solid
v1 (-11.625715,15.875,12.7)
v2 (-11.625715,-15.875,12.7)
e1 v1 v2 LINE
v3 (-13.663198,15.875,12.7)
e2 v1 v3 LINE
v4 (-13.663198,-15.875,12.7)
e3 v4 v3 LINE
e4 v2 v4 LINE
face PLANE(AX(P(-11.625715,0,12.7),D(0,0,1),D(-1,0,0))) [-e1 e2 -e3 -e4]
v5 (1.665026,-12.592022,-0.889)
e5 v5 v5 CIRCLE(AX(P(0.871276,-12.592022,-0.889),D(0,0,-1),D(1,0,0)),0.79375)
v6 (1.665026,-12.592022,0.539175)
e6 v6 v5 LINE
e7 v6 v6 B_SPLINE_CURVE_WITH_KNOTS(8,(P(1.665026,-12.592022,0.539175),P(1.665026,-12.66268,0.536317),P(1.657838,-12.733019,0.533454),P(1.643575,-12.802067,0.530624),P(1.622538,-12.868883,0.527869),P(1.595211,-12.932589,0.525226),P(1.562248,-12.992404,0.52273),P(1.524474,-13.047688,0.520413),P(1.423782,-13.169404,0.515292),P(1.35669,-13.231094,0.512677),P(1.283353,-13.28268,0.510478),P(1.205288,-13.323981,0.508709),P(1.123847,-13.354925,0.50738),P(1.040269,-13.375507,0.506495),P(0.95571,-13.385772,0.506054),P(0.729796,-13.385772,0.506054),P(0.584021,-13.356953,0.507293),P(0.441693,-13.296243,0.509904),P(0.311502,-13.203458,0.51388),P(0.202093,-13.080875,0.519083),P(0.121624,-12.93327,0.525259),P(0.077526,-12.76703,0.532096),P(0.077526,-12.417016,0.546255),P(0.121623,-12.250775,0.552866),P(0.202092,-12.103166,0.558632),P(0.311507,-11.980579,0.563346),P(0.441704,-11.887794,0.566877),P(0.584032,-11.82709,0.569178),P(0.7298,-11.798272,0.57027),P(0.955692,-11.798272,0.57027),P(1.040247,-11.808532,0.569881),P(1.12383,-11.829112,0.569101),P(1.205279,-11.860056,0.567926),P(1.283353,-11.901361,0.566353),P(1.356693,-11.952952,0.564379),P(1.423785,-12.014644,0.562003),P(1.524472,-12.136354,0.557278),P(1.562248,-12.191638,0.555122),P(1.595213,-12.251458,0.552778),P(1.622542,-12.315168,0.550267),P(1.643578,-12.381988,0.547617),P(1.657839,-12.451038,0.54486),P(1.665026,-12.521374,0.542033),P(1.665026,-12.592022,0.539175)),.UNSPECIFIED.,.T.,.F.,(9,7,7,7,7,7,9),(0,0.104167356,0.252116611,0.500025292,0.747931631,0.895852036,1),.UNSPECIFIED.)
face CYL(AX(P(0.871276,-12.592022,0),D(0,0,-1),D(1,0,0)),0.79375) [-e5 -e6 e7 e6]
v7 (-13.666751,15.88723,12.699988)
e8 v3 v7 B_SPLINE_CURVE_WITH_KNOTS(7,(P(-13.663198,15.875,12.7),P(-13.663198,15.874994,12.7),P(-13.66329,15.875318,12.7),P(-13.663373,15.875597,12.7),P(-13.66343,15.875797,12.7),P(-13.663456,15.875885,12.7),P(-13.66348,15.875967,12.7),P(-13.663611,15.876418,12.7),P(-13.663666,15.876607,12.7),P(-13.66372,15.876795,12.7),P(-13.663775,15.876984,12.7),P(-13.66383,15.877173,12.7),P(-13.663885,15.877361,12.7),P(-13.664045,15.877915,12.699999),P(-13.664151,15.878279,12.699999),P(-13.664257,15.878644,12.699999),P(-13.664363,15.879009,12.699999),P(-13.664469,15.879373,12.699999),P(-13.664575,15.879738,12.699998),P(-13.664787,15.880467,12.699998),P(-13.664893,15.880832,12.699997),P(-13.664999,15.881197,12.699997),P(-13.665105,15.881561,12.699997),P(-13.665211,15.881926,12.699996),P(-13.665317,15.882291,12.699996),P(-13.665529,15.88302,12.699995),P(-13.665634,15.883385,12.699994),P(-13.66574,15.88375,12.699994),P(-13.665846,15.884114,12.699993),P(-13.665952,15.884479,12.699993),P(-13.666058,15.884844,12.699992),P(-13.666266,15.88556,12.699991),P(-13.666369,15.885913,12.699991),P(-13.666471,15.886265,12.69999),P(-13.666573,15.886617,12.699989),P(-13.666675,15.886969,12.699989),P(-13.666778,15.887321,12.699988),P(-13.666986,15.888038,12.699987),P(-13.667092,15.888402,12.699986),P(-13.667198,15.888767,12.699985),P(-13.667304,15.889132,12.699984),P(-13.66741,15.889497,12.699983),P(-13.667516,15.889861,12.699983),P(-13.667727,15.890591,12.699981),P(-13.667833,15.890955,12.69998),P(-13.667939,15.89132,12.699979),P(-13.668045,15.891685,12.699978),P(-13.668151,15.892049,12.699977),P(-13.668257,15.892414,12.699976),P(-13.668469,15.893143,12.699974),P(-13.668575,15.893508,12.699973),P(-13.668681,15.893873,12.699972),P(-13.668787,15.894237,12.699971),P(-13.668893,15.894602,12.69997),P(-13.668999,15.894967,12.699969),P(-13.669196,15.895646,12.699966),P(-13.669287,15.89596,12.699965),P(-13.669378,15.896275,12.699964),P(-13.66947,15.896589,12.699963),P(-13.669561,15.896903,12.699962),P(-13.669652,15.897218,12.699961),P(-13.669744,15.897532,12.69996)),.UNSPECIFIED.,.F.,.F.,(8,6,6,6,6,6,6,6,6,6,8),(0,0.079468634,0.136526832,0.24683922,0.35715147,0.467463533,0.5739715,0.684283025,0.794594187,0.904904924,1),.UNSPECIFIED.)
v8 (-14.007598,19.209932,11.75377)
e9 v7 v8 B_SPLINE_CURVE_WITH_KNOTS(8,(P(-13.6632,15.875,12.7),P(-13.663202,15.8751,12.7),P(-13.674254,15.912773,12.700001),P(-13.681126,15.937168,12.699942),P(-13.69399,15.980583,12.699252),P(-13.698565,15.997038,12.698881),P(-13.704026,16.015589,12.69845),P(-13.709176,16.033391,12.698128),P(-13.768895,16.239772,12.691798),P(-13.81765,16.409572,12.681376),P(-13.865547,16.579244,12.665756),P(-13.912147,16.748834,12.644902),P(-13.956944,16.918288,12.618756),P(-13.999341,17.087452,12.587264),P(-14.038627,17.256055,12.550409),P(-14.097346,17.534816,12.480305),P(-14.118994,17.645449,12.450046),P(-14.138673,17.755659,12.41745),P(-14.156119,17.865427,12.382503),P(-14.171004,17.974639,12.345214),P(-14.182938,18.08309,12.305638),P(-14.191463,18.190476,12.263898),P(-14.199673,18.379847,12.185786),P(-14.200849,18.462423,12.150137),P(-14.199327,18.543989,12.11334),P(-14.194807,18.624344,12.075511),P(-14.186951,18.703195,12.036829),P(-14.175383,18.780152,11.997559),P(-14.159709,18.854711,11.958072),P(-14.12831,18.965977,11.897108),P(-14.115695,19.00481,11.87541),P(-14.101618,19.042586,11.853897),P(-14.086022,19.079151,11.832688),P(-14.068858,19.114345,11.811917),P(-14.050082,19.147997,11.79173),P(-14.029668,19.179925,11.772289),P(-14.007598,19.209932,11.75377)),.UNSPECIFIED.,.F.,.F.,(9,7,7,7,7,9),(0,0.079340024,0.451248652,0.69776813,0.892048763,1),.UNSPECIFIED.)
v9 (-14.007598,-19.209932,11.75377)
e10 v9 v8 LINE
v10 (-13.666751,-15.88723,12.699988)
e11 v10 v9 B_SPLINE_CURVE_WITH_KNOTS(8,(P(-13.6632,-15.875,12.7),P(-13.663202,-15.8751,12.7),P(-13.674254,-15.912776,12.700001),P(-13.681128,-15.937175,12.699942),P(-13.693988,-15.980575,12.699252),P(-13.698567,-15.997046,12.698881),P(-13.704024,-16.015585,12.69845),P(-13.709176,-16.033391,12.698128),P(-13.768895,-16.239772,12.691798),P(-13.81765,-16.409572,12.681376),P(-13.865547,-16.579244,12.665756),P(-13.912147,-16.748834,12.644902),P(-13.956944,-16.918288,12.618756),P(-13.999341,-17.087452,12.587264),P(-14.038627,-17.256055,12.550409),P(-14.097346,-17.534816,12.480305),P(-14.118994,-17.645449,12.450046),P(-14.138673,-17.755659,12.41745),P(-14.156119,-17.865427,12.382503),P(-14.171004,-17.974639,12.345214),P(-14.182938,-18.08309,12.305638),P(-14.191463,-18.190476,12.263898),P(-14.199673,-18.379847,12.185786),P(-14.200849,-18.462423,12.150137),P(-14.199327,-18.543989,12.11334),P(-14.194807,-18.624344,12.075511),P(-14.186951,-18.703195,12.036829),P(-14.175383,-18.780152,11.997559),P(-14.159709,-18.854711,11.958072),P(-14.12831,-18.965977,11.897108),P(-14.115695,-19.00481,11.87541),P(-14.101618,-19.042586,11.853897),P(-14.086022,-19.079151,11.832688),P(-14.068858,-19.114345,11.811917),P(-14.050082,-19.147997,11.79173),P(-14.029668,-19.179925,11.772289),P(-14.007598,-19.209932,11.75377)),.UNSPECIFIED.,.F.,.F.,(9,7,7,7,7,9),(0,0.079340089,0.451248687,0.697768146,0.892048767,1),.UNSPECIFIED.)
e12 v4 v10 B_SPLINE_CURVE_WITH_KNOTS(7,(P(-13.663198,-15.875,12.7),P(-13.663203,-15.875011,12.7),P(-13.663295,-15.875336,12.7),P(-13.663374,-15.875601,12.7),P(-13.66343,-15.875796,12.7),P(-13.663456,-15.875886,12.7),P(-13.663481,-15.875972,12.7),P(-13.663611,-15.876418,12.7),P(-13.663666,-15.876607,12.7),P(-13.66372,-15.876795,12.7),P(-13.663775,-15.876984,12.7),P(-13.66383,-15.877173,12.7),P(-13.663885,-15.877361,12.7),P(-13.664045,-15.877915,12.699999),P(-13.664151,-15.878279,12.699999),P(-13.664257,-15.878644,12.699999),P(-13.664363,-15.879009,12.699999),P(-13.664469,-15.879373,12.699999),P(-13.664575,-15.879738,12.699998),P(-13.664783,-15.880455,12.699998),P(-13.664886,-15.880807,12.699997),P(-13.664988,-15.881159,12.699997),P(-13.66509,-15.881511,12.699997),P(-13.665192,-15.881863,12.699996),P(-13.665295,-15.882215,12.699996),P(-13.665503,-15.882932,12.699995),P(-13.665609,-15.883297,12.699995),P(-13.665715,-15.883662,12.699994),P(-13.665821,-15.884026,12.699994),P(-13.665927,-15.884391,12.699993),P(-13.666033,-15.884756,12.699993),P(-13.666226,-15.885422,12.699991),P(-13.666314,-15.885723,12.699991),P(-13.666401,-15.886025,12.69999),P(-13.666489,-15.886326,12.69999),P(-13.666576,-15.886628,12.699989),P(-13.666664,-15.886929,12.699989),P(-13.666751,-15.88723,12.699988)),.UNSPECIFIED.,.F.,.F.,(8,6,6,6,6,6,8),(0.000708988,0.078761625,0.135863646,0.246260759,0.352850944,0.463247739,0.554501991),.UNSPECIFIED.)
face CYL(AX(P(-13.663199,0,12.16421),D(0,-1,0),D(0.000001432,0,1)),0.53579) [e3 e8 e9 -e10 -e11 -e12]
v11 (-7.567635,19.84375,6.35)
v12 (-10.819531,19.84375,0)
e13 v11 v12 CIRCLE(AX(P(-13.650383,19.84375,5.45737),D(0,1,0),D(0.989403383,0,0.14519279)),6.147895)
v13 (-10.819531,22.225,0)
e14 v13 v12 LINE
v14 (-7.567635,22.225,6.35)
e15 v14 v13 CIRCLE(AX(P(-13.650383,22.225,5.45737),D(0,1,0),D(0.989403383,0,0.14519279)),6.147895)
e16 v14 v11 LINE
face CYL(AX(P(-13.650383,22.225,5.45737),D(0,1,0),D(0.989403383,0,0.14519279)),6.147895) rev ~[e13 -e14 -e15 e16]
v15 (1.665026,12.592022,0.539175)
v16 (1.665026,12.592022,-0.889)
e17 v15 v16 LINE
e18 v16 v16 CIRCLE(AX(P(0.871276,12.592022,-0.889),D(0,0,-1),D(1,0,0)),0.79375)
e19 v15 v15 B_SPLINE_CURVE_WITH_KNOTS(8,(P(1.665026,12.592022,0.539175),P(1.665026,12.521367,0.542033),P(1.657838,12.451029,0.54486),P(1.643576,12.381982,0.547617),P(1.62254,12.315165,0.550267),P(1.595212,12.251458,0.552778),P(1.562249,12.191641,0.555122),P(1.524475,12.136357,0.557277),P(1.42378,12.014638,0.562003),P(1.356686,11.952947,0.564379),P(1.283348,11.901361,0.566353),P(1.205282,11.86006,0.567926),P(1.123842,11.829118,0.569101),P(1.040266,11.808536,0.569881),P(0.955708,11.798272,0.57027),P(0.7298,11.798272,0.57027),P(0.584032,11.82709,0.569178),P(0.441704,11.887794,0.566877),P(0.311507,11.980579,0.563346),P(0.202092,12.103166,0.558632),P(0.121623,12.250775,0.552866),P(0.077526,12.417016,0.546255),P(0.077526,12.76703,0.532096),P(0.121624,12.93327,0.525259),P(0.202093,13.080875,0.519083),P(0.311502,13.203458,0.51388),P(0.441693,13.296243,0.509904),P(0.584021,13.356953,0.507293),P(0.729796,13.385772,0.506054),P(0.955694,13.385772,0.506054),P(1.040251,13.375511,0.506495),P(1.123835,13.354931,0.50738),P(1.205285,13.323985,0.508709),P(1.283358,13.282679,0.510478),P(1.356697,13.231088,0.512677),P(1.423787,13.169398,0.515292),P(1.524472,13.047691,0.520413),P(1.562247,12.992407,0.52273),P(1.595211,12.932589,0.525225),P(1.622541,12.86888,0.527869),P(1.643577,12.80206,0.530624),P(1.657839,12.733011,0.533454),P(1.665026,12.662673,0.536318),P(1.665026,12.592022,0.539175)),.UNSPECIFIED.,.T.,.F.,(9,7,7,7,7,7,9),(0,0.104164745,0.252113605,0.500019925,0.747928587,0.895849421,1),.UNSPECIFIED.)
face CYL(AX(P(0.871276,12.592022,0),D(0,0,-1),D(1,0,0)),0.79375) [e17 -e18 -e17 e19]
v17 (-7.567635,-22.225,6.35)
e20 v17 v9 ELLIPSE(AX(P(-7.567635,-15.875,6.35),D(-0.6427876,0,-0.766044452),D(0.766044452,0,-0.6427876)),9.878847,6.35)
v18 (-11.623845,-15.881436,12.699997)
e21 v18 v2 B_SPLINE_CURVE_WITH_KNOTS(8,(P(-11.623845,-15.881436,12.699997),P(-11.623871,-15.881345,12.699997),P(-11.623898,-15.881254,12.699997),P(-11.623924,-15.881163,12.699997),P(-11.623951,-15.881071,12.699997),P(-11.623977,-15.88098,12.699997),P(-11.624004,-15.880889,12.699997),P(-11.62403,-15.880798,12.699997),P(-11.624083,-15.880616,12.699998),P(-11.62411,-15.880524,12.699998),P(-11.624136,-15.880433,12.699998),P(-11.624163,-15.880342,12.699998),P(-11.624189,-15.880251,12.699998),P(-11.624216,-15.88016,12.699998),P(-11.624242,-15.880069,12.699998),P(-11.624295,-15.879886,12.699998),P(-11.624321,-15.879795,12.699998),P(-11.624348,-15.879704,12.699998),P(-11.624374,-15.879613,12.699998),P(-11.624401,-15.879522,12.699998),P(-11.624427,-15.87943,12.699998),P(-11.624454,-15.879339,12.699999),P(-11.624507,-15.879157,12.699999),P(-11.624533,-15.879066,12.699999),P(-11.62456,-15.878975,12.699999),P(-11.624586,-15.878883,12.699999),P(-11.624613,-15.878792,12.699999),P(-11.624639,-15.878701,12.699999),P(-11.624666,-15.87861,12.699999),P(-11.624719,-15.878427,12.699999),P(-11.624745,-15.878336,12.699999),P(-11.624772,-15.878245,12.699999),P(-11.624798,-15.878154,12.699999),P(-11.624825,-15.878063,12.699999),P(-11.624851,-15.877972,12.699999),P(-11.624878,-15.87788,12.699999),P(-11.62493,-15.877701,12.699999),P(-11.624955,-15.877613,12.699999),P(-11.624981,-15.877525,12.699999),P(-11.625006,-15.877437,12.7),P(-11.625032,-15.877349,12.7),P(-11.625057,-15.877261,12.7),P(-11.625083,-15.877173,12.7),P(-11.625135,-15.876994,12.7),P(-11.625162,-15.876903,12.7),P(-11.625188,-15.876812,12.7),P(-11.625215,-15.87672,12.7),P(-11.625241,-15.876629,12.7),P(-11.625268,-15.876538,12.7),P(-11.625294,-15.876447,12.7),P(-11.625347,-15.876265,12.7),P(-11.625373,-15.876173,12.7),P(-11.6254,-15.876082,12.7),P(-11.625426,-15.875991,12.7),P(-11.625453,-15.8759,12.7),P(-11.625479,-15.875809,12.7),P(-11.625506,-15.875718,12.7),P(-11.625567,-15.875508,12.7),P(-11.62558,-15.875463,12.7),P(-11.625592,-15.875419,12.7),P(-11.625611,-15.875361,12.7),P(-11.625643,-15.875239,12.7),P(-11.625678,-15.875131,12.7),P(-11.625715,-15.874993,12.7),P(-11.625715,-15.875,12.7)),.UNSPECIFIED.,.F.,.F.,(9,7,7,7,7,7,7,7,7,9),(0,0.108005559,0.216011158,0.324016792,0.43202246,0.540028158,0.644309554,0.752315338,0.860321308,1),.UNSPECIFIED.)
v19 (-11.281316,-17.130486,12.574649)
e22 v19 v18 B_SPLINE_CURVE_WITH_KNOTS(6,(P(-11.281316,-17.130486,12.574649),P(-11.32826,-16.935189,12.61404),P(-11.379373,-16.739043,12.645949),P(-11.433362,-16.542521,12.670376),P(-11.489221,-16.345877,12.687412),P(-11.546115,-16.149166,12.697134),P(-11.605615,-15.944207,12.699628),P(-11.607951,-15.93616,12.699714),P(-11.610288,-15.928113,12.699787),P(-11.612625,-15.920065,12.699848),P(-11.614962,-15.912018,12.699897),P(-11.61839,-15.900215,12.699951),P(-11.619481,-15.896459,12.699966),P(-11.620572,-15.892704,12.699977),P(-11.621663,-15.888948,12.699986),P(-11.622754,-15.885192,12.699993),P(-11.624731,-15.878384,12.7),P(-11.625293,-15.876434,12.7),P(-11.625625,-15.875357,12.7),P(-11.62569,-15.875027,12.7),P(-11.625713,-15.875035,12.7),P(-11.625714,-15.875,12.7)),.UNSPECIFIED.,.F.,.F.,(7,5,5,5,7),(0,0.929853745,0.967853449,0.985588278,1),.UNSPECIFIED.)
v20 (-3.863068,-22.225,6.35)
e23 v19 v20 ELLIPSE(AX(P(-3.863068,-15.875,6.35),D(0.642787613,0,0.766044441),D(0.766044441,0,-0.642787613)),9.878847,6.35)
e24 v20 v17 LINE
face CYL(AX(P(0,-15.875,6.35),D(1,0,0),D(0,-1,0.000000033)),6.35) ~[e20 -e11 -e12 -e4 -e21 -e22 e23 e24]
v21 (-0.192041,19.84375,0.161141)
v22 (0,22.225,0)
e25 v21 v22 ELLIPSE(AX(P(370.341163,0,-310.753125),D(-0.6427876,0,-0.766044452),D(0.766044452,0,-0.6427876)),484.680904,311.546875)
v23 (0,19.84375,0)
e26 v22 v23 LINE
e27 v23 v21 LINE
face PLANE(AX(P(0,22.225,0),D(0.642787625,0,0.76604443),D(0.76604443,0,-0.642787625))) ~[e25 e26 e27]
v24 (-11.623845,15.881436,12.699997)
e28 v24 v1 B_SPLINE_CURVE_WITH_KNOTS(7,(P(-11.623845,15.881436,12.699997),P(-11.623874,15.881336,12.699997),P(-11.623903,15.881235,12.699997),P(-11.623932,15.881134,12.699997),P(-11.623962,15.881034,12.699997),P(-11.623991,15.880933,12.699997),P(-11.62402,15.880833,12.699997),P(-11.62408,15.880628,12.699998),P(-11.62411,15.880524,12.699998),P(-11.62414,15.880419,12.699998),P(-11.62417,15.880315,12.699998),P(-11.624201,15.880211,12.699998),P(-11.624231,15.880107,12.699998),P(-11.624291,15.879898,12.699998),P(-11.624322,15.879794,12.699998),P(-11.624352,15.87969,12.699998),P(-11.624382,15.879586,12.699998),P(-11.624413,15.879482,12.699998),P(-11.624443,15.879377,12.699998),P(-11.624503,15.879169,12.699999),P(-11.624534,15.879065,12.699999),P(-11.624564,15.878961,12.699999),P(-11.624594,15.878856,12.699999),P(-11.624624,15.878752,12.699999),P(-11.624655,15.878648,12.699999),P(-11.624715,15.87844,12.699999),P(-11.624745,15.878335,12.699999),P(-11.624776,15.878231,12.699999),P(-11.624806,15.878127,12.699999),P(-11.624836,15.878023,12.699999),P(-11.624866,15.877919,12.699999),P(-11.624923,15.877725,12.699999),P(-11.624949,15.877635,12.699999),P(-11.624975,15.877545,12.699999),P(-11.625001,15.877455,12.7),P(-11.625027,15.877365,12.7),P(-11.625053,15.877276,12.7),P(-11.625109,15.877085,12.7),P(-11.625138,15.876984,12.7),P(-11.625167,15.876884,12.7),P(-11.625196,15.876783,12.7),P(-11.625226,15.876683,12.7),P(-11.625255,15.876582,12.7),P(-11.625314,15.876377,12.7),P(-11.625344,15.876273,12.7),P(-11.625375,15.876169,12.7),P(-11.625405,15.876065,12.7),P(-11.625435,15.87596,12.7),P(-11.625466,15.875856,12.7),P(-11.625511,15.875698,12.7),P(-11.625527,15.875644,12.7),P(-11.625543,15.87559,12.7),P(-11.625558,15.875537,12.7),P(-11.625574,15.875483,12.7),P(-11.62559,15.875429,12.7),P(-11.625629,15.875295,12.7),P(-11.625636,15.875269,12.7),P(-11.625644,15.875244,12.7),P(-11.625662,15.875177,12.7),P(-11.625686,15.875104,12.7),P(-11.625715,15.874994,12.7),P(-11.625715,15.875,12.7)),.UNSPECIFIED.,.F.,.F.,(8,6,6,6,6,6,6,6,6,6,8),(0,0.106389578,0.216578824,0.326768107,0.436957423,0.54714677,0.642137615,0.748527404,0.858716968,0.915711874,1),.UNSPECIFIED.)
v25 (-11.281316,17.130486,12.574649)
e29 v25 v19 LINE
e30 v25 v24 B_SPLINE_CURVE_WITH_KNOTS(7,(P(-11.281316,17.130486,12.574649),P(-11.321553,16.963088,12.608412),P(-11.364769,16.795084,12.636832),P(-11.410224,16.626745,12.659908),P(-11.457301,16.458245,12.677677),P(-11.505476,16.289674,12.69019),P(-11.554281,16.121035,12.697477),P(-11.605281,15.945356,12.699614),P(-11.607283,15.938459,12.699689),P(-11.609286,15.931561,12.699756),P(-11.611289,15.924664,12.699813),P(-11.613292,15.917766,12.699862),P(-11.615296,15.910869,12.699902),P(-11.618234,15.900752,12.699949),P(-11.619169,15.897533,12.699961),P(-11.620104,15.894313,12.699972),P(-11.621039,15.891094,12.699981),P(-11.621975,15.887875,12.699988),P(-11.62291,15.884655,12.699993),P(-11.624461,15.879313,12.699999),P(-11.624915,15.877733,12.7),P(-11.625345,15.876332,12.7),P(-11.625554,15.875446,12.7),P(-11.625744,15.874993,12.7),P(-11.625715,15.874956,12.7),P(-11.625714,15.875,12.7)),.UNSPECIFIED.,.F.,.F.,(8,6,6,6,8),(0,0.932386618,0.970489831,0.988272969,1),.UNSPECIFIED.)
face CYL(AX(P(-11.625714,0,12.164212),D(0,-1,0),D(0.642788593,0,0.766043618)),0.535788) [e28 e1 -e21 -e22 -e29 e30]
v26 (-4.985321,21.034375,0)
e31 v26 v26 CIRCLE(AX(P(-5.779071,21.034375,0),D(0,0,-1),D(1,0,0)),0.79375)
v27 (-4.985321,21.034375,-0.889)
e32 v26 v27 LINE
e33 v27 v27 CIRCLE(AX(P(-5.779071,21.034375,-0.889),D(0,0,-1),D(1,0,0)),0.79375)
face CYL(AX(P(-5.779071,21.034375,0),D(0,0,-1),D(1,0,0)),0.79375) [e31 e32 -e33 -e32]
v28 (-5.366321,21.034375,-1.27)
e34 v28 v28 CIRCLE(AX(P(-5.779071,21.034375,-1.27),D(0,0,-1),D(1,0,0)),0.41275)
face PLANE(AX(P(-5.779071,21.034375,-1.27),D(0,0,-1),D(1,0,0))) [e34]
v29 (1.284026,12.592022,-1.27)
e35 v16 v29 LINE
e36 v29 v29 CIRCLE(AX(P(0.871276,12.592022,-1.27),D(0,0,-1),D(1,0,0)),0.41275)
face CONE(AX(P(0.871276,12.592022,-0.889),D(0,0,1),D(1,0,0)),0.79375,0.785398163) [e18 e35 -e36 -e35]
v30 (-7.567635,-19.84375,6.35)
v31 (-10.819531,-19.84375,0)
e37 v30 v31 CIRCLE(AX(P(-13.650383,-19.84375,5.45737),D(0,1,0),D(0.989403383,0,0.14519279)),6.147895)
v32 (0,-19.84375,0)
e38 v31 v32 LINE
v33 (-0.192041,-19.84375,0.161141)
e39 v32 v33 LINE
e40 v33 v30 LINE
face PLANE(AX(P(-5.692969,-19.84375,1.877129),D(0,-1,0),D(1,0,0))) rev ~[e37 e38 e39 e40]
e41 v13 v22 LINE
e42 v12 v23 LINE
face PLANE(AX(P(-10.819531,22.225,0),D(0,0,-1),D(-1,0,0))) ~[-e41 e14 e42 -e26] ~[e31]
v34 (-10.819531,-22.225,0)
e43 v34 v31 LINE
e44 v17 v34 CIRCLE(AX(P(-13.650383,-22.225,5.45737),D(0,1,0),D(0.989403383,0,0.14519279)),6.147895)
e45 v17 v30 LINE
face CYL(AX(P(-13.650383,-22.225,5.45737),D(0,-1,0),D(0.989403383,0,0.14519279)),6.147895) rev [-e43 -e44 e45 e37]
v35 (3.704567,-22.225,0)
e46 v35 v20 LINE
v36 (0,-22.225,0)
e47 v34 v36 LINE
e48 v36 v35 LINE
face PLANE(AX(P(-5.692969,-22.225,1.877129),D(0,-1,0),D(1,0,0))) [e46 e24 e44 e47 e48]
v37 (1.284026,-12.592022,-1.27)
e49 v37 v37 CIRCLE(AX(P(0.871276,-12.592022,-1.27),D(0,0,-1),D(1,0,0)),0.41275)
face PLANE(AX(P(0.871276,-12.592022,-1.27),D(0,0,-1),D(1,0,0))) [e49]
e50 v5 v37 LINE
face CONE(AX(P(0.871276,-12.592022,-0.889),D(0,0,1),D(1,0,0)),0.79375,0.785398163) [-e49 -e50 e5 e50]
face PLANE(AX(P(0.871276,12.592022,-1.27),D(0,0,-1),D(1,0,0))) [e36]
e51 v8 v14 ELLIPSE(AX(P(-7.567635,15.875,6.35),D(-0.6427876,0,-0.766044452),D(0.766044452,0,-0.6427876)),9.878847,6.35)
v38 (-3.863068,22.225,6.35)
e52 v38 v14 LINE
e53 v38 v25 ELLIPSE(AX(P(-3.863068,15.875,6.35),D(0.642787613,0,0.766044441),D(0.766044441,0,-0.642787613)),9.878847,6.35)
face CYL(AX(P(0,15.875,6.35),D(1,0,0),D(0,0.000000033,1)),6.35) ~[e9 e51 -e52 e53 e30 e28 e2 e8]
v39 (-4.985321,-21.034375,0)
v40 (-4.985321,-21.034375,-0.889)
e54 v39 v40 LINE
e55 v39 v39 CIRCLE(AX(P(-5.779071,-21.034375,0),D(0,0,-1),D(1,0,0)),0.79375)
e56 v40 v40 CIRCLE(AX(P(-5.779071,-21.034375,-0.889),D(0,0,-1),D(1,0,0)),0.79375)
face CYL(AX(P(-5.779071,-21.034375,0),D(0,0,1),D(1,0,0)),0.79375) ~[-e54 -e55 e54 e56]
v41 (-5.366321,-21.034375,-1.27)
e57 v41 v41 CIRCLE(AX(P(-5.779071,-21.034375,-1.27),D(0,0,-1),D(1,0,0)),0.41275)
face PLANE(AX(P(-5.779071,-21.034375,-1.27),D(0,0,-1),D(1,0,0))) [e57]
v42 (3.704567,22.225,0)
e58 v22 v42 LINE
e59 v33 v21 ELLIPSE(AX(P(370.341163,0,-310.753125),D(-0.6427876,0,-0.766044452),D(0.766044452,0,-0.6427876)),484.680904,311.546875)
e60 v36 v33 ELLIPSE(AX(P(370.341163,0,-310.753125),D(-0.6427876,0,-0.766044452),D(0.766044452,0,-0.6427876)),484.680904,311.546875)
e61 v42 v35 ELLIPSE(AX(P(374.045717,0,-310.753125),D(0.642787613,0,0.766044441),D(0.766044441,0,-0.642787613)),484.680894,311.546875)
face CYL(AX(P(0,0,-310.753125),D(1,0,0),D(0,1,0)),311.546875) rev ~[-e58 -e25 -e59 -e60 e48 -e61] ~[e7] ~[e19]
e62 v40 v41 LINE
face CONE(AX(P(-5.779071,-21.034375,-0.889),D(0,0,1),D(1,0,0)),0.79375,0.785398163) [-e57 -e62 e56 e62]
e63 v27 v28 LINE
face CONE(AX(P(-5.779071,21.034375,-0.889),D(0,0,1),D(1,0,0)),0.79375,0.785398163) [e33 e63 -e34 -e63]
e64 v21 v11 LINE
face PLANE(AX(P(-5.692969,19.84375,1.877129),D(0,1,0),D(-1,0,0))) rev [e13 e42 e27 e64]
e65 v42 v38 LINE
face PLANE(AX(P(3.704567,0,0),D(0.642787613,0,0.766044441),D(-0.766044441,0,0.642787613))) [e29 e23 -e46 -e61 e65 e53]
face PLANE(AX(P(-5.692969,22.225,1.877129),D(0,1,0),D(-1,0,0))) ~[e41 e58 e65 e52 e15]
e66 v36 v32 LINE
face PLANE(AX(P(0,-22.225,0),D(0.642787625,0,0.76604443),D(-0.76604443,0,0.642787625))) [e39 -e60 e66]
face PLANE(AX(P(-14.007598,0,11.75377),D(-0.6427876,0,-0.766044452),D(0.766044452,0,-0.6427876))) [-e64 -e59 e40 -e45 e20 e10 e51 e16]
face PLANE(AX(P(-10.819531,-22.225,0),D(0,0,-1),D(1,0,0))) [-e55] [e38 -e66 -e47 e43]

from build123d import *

# Parameters (mm, degrees)
F1_DEPTH  = 22.225
F3_DEPTH  = 14.199989
F4_R      = 311.546875
F5_DEPTH  = 38.1
F7_DEPTH  = 2.38125
F9_R      = 0.79375
F10_DEPTH = 1.27
F11_SIZE  = 0.381


with BuildPart() as f1:
    # F0 (on Front) → F1 (new body, symmetric)
    with BuildSketch(Plane.XZ):
        with BuildLine():
            Line((0, 0), (3.704567, 0))
            Line((3.704567, 0), (-11.281316, 12.574649))
            ThreePointArc((-11.281316, 12.574649), (-11.442464, 12.667688), (-11.625715, 12.7))
            Line((-11.625715, 12.7), (-13.663198, 12.7))
            ThreePointArc((-13.663198, 12.7), (-14.166677, 12.347461), (-14.007598, 11.75377))
            Line((-14.007598, 11.75377), (0, 0))
        make_face()
    extrude(amount=F1_DEPTH, both=True)

    # F2 (on Right) → F3 (cut, through all)
    with BuildSketch(Plane.YZ):
        with BuildLine():
            ThreePointArc((-22.225, 6.35), (-20.365128, 10.840128), (-15.875, 12.7))
            Line((-15.875, 12.7), (-25.184002, 17.701721))
            Line((-25.184002, 17.701721), (-26.87986, 8.657143))
            Line((-26.87986, 8.657143), (-22.225, 6.35))
        make_face()
        with BuildLine():
            Line((22.225, 6.35), (26.87986, 8.657143))
            Line((26.87986, 8.657143), (25.184002, 17.701721))
            Line((25.184002, 17.701721), (15.875, 12.7))
            ThreePointArc((15.875, 12.7), (20.365128, 10.840128), (22.225, 6.35))
        make_face()
    extrude(amount=-F3_DEPTH, mode=Mode.SUBTRACT)

    # F4 (on Right) → F5 (cut, symmetric)
    with BuildSketch(Plane.YZ):
        with Locations((0, -310.753125)):
            Circle(F4_R)
    extrude(amount=F5_DEPTH, both=True, mode=Mode.SUBTRACT)

    # F6 (on face) → F7 (join)
    with BuildSketch(Plane.XZ.offset(22.225)):
        with BuildLine():
            Line((-10.819531, 0), (0, 0))
            Line((0, 0), (-7.567635, 6.35))
            ThreePointArc((-7.567635, 6.35), (-8.1783, 2.655064), (-10.819531, 0))
        make_face()
    extrude(amount=-F7_DEPTH)



with BuildPart() as f8_1:
    # F8: instance of F1
    add(f1.part.mirror(Plane.XZ))


with BuildPart() as f1_1:
    add(f1.part)

    add(f8_1.part)  # F10 merges F8_1
    # F9 (on face) → F10 (join, symmetric)
    with BuildSketch(Plane(origin=(0, 0, 0), x_dir=(1, 0, 0), z_dir=(0, 0, -1))):
        with Locations((-5.779071, 21.034375)):
            Circle(F9_R)
        with Locations((0.871276, 12.592022)):
            Circle(F9_R)
        with Locations((0.871276, -12.592022)):
            Circle(F9_R)
        with Locations((-5.779071, -21.034375)):
            Circle(F9_R)
    extrude(amount=F10_DEPTH, both=True)

    # F11
    f11_edges = [f1_1.edges().sort_by_distance(p)[0] for p in [
        (0.077526, -12.592022, -1.27),
        (-6.572821, -21.034375, -1.27),
        (0.077526, 12.592022, -1.27),
        (-6.572821, 21.034375, -1.27),
    ]]
    chamfer(f11_edges, length=F11_SIZE)


solid = f1_1.part
